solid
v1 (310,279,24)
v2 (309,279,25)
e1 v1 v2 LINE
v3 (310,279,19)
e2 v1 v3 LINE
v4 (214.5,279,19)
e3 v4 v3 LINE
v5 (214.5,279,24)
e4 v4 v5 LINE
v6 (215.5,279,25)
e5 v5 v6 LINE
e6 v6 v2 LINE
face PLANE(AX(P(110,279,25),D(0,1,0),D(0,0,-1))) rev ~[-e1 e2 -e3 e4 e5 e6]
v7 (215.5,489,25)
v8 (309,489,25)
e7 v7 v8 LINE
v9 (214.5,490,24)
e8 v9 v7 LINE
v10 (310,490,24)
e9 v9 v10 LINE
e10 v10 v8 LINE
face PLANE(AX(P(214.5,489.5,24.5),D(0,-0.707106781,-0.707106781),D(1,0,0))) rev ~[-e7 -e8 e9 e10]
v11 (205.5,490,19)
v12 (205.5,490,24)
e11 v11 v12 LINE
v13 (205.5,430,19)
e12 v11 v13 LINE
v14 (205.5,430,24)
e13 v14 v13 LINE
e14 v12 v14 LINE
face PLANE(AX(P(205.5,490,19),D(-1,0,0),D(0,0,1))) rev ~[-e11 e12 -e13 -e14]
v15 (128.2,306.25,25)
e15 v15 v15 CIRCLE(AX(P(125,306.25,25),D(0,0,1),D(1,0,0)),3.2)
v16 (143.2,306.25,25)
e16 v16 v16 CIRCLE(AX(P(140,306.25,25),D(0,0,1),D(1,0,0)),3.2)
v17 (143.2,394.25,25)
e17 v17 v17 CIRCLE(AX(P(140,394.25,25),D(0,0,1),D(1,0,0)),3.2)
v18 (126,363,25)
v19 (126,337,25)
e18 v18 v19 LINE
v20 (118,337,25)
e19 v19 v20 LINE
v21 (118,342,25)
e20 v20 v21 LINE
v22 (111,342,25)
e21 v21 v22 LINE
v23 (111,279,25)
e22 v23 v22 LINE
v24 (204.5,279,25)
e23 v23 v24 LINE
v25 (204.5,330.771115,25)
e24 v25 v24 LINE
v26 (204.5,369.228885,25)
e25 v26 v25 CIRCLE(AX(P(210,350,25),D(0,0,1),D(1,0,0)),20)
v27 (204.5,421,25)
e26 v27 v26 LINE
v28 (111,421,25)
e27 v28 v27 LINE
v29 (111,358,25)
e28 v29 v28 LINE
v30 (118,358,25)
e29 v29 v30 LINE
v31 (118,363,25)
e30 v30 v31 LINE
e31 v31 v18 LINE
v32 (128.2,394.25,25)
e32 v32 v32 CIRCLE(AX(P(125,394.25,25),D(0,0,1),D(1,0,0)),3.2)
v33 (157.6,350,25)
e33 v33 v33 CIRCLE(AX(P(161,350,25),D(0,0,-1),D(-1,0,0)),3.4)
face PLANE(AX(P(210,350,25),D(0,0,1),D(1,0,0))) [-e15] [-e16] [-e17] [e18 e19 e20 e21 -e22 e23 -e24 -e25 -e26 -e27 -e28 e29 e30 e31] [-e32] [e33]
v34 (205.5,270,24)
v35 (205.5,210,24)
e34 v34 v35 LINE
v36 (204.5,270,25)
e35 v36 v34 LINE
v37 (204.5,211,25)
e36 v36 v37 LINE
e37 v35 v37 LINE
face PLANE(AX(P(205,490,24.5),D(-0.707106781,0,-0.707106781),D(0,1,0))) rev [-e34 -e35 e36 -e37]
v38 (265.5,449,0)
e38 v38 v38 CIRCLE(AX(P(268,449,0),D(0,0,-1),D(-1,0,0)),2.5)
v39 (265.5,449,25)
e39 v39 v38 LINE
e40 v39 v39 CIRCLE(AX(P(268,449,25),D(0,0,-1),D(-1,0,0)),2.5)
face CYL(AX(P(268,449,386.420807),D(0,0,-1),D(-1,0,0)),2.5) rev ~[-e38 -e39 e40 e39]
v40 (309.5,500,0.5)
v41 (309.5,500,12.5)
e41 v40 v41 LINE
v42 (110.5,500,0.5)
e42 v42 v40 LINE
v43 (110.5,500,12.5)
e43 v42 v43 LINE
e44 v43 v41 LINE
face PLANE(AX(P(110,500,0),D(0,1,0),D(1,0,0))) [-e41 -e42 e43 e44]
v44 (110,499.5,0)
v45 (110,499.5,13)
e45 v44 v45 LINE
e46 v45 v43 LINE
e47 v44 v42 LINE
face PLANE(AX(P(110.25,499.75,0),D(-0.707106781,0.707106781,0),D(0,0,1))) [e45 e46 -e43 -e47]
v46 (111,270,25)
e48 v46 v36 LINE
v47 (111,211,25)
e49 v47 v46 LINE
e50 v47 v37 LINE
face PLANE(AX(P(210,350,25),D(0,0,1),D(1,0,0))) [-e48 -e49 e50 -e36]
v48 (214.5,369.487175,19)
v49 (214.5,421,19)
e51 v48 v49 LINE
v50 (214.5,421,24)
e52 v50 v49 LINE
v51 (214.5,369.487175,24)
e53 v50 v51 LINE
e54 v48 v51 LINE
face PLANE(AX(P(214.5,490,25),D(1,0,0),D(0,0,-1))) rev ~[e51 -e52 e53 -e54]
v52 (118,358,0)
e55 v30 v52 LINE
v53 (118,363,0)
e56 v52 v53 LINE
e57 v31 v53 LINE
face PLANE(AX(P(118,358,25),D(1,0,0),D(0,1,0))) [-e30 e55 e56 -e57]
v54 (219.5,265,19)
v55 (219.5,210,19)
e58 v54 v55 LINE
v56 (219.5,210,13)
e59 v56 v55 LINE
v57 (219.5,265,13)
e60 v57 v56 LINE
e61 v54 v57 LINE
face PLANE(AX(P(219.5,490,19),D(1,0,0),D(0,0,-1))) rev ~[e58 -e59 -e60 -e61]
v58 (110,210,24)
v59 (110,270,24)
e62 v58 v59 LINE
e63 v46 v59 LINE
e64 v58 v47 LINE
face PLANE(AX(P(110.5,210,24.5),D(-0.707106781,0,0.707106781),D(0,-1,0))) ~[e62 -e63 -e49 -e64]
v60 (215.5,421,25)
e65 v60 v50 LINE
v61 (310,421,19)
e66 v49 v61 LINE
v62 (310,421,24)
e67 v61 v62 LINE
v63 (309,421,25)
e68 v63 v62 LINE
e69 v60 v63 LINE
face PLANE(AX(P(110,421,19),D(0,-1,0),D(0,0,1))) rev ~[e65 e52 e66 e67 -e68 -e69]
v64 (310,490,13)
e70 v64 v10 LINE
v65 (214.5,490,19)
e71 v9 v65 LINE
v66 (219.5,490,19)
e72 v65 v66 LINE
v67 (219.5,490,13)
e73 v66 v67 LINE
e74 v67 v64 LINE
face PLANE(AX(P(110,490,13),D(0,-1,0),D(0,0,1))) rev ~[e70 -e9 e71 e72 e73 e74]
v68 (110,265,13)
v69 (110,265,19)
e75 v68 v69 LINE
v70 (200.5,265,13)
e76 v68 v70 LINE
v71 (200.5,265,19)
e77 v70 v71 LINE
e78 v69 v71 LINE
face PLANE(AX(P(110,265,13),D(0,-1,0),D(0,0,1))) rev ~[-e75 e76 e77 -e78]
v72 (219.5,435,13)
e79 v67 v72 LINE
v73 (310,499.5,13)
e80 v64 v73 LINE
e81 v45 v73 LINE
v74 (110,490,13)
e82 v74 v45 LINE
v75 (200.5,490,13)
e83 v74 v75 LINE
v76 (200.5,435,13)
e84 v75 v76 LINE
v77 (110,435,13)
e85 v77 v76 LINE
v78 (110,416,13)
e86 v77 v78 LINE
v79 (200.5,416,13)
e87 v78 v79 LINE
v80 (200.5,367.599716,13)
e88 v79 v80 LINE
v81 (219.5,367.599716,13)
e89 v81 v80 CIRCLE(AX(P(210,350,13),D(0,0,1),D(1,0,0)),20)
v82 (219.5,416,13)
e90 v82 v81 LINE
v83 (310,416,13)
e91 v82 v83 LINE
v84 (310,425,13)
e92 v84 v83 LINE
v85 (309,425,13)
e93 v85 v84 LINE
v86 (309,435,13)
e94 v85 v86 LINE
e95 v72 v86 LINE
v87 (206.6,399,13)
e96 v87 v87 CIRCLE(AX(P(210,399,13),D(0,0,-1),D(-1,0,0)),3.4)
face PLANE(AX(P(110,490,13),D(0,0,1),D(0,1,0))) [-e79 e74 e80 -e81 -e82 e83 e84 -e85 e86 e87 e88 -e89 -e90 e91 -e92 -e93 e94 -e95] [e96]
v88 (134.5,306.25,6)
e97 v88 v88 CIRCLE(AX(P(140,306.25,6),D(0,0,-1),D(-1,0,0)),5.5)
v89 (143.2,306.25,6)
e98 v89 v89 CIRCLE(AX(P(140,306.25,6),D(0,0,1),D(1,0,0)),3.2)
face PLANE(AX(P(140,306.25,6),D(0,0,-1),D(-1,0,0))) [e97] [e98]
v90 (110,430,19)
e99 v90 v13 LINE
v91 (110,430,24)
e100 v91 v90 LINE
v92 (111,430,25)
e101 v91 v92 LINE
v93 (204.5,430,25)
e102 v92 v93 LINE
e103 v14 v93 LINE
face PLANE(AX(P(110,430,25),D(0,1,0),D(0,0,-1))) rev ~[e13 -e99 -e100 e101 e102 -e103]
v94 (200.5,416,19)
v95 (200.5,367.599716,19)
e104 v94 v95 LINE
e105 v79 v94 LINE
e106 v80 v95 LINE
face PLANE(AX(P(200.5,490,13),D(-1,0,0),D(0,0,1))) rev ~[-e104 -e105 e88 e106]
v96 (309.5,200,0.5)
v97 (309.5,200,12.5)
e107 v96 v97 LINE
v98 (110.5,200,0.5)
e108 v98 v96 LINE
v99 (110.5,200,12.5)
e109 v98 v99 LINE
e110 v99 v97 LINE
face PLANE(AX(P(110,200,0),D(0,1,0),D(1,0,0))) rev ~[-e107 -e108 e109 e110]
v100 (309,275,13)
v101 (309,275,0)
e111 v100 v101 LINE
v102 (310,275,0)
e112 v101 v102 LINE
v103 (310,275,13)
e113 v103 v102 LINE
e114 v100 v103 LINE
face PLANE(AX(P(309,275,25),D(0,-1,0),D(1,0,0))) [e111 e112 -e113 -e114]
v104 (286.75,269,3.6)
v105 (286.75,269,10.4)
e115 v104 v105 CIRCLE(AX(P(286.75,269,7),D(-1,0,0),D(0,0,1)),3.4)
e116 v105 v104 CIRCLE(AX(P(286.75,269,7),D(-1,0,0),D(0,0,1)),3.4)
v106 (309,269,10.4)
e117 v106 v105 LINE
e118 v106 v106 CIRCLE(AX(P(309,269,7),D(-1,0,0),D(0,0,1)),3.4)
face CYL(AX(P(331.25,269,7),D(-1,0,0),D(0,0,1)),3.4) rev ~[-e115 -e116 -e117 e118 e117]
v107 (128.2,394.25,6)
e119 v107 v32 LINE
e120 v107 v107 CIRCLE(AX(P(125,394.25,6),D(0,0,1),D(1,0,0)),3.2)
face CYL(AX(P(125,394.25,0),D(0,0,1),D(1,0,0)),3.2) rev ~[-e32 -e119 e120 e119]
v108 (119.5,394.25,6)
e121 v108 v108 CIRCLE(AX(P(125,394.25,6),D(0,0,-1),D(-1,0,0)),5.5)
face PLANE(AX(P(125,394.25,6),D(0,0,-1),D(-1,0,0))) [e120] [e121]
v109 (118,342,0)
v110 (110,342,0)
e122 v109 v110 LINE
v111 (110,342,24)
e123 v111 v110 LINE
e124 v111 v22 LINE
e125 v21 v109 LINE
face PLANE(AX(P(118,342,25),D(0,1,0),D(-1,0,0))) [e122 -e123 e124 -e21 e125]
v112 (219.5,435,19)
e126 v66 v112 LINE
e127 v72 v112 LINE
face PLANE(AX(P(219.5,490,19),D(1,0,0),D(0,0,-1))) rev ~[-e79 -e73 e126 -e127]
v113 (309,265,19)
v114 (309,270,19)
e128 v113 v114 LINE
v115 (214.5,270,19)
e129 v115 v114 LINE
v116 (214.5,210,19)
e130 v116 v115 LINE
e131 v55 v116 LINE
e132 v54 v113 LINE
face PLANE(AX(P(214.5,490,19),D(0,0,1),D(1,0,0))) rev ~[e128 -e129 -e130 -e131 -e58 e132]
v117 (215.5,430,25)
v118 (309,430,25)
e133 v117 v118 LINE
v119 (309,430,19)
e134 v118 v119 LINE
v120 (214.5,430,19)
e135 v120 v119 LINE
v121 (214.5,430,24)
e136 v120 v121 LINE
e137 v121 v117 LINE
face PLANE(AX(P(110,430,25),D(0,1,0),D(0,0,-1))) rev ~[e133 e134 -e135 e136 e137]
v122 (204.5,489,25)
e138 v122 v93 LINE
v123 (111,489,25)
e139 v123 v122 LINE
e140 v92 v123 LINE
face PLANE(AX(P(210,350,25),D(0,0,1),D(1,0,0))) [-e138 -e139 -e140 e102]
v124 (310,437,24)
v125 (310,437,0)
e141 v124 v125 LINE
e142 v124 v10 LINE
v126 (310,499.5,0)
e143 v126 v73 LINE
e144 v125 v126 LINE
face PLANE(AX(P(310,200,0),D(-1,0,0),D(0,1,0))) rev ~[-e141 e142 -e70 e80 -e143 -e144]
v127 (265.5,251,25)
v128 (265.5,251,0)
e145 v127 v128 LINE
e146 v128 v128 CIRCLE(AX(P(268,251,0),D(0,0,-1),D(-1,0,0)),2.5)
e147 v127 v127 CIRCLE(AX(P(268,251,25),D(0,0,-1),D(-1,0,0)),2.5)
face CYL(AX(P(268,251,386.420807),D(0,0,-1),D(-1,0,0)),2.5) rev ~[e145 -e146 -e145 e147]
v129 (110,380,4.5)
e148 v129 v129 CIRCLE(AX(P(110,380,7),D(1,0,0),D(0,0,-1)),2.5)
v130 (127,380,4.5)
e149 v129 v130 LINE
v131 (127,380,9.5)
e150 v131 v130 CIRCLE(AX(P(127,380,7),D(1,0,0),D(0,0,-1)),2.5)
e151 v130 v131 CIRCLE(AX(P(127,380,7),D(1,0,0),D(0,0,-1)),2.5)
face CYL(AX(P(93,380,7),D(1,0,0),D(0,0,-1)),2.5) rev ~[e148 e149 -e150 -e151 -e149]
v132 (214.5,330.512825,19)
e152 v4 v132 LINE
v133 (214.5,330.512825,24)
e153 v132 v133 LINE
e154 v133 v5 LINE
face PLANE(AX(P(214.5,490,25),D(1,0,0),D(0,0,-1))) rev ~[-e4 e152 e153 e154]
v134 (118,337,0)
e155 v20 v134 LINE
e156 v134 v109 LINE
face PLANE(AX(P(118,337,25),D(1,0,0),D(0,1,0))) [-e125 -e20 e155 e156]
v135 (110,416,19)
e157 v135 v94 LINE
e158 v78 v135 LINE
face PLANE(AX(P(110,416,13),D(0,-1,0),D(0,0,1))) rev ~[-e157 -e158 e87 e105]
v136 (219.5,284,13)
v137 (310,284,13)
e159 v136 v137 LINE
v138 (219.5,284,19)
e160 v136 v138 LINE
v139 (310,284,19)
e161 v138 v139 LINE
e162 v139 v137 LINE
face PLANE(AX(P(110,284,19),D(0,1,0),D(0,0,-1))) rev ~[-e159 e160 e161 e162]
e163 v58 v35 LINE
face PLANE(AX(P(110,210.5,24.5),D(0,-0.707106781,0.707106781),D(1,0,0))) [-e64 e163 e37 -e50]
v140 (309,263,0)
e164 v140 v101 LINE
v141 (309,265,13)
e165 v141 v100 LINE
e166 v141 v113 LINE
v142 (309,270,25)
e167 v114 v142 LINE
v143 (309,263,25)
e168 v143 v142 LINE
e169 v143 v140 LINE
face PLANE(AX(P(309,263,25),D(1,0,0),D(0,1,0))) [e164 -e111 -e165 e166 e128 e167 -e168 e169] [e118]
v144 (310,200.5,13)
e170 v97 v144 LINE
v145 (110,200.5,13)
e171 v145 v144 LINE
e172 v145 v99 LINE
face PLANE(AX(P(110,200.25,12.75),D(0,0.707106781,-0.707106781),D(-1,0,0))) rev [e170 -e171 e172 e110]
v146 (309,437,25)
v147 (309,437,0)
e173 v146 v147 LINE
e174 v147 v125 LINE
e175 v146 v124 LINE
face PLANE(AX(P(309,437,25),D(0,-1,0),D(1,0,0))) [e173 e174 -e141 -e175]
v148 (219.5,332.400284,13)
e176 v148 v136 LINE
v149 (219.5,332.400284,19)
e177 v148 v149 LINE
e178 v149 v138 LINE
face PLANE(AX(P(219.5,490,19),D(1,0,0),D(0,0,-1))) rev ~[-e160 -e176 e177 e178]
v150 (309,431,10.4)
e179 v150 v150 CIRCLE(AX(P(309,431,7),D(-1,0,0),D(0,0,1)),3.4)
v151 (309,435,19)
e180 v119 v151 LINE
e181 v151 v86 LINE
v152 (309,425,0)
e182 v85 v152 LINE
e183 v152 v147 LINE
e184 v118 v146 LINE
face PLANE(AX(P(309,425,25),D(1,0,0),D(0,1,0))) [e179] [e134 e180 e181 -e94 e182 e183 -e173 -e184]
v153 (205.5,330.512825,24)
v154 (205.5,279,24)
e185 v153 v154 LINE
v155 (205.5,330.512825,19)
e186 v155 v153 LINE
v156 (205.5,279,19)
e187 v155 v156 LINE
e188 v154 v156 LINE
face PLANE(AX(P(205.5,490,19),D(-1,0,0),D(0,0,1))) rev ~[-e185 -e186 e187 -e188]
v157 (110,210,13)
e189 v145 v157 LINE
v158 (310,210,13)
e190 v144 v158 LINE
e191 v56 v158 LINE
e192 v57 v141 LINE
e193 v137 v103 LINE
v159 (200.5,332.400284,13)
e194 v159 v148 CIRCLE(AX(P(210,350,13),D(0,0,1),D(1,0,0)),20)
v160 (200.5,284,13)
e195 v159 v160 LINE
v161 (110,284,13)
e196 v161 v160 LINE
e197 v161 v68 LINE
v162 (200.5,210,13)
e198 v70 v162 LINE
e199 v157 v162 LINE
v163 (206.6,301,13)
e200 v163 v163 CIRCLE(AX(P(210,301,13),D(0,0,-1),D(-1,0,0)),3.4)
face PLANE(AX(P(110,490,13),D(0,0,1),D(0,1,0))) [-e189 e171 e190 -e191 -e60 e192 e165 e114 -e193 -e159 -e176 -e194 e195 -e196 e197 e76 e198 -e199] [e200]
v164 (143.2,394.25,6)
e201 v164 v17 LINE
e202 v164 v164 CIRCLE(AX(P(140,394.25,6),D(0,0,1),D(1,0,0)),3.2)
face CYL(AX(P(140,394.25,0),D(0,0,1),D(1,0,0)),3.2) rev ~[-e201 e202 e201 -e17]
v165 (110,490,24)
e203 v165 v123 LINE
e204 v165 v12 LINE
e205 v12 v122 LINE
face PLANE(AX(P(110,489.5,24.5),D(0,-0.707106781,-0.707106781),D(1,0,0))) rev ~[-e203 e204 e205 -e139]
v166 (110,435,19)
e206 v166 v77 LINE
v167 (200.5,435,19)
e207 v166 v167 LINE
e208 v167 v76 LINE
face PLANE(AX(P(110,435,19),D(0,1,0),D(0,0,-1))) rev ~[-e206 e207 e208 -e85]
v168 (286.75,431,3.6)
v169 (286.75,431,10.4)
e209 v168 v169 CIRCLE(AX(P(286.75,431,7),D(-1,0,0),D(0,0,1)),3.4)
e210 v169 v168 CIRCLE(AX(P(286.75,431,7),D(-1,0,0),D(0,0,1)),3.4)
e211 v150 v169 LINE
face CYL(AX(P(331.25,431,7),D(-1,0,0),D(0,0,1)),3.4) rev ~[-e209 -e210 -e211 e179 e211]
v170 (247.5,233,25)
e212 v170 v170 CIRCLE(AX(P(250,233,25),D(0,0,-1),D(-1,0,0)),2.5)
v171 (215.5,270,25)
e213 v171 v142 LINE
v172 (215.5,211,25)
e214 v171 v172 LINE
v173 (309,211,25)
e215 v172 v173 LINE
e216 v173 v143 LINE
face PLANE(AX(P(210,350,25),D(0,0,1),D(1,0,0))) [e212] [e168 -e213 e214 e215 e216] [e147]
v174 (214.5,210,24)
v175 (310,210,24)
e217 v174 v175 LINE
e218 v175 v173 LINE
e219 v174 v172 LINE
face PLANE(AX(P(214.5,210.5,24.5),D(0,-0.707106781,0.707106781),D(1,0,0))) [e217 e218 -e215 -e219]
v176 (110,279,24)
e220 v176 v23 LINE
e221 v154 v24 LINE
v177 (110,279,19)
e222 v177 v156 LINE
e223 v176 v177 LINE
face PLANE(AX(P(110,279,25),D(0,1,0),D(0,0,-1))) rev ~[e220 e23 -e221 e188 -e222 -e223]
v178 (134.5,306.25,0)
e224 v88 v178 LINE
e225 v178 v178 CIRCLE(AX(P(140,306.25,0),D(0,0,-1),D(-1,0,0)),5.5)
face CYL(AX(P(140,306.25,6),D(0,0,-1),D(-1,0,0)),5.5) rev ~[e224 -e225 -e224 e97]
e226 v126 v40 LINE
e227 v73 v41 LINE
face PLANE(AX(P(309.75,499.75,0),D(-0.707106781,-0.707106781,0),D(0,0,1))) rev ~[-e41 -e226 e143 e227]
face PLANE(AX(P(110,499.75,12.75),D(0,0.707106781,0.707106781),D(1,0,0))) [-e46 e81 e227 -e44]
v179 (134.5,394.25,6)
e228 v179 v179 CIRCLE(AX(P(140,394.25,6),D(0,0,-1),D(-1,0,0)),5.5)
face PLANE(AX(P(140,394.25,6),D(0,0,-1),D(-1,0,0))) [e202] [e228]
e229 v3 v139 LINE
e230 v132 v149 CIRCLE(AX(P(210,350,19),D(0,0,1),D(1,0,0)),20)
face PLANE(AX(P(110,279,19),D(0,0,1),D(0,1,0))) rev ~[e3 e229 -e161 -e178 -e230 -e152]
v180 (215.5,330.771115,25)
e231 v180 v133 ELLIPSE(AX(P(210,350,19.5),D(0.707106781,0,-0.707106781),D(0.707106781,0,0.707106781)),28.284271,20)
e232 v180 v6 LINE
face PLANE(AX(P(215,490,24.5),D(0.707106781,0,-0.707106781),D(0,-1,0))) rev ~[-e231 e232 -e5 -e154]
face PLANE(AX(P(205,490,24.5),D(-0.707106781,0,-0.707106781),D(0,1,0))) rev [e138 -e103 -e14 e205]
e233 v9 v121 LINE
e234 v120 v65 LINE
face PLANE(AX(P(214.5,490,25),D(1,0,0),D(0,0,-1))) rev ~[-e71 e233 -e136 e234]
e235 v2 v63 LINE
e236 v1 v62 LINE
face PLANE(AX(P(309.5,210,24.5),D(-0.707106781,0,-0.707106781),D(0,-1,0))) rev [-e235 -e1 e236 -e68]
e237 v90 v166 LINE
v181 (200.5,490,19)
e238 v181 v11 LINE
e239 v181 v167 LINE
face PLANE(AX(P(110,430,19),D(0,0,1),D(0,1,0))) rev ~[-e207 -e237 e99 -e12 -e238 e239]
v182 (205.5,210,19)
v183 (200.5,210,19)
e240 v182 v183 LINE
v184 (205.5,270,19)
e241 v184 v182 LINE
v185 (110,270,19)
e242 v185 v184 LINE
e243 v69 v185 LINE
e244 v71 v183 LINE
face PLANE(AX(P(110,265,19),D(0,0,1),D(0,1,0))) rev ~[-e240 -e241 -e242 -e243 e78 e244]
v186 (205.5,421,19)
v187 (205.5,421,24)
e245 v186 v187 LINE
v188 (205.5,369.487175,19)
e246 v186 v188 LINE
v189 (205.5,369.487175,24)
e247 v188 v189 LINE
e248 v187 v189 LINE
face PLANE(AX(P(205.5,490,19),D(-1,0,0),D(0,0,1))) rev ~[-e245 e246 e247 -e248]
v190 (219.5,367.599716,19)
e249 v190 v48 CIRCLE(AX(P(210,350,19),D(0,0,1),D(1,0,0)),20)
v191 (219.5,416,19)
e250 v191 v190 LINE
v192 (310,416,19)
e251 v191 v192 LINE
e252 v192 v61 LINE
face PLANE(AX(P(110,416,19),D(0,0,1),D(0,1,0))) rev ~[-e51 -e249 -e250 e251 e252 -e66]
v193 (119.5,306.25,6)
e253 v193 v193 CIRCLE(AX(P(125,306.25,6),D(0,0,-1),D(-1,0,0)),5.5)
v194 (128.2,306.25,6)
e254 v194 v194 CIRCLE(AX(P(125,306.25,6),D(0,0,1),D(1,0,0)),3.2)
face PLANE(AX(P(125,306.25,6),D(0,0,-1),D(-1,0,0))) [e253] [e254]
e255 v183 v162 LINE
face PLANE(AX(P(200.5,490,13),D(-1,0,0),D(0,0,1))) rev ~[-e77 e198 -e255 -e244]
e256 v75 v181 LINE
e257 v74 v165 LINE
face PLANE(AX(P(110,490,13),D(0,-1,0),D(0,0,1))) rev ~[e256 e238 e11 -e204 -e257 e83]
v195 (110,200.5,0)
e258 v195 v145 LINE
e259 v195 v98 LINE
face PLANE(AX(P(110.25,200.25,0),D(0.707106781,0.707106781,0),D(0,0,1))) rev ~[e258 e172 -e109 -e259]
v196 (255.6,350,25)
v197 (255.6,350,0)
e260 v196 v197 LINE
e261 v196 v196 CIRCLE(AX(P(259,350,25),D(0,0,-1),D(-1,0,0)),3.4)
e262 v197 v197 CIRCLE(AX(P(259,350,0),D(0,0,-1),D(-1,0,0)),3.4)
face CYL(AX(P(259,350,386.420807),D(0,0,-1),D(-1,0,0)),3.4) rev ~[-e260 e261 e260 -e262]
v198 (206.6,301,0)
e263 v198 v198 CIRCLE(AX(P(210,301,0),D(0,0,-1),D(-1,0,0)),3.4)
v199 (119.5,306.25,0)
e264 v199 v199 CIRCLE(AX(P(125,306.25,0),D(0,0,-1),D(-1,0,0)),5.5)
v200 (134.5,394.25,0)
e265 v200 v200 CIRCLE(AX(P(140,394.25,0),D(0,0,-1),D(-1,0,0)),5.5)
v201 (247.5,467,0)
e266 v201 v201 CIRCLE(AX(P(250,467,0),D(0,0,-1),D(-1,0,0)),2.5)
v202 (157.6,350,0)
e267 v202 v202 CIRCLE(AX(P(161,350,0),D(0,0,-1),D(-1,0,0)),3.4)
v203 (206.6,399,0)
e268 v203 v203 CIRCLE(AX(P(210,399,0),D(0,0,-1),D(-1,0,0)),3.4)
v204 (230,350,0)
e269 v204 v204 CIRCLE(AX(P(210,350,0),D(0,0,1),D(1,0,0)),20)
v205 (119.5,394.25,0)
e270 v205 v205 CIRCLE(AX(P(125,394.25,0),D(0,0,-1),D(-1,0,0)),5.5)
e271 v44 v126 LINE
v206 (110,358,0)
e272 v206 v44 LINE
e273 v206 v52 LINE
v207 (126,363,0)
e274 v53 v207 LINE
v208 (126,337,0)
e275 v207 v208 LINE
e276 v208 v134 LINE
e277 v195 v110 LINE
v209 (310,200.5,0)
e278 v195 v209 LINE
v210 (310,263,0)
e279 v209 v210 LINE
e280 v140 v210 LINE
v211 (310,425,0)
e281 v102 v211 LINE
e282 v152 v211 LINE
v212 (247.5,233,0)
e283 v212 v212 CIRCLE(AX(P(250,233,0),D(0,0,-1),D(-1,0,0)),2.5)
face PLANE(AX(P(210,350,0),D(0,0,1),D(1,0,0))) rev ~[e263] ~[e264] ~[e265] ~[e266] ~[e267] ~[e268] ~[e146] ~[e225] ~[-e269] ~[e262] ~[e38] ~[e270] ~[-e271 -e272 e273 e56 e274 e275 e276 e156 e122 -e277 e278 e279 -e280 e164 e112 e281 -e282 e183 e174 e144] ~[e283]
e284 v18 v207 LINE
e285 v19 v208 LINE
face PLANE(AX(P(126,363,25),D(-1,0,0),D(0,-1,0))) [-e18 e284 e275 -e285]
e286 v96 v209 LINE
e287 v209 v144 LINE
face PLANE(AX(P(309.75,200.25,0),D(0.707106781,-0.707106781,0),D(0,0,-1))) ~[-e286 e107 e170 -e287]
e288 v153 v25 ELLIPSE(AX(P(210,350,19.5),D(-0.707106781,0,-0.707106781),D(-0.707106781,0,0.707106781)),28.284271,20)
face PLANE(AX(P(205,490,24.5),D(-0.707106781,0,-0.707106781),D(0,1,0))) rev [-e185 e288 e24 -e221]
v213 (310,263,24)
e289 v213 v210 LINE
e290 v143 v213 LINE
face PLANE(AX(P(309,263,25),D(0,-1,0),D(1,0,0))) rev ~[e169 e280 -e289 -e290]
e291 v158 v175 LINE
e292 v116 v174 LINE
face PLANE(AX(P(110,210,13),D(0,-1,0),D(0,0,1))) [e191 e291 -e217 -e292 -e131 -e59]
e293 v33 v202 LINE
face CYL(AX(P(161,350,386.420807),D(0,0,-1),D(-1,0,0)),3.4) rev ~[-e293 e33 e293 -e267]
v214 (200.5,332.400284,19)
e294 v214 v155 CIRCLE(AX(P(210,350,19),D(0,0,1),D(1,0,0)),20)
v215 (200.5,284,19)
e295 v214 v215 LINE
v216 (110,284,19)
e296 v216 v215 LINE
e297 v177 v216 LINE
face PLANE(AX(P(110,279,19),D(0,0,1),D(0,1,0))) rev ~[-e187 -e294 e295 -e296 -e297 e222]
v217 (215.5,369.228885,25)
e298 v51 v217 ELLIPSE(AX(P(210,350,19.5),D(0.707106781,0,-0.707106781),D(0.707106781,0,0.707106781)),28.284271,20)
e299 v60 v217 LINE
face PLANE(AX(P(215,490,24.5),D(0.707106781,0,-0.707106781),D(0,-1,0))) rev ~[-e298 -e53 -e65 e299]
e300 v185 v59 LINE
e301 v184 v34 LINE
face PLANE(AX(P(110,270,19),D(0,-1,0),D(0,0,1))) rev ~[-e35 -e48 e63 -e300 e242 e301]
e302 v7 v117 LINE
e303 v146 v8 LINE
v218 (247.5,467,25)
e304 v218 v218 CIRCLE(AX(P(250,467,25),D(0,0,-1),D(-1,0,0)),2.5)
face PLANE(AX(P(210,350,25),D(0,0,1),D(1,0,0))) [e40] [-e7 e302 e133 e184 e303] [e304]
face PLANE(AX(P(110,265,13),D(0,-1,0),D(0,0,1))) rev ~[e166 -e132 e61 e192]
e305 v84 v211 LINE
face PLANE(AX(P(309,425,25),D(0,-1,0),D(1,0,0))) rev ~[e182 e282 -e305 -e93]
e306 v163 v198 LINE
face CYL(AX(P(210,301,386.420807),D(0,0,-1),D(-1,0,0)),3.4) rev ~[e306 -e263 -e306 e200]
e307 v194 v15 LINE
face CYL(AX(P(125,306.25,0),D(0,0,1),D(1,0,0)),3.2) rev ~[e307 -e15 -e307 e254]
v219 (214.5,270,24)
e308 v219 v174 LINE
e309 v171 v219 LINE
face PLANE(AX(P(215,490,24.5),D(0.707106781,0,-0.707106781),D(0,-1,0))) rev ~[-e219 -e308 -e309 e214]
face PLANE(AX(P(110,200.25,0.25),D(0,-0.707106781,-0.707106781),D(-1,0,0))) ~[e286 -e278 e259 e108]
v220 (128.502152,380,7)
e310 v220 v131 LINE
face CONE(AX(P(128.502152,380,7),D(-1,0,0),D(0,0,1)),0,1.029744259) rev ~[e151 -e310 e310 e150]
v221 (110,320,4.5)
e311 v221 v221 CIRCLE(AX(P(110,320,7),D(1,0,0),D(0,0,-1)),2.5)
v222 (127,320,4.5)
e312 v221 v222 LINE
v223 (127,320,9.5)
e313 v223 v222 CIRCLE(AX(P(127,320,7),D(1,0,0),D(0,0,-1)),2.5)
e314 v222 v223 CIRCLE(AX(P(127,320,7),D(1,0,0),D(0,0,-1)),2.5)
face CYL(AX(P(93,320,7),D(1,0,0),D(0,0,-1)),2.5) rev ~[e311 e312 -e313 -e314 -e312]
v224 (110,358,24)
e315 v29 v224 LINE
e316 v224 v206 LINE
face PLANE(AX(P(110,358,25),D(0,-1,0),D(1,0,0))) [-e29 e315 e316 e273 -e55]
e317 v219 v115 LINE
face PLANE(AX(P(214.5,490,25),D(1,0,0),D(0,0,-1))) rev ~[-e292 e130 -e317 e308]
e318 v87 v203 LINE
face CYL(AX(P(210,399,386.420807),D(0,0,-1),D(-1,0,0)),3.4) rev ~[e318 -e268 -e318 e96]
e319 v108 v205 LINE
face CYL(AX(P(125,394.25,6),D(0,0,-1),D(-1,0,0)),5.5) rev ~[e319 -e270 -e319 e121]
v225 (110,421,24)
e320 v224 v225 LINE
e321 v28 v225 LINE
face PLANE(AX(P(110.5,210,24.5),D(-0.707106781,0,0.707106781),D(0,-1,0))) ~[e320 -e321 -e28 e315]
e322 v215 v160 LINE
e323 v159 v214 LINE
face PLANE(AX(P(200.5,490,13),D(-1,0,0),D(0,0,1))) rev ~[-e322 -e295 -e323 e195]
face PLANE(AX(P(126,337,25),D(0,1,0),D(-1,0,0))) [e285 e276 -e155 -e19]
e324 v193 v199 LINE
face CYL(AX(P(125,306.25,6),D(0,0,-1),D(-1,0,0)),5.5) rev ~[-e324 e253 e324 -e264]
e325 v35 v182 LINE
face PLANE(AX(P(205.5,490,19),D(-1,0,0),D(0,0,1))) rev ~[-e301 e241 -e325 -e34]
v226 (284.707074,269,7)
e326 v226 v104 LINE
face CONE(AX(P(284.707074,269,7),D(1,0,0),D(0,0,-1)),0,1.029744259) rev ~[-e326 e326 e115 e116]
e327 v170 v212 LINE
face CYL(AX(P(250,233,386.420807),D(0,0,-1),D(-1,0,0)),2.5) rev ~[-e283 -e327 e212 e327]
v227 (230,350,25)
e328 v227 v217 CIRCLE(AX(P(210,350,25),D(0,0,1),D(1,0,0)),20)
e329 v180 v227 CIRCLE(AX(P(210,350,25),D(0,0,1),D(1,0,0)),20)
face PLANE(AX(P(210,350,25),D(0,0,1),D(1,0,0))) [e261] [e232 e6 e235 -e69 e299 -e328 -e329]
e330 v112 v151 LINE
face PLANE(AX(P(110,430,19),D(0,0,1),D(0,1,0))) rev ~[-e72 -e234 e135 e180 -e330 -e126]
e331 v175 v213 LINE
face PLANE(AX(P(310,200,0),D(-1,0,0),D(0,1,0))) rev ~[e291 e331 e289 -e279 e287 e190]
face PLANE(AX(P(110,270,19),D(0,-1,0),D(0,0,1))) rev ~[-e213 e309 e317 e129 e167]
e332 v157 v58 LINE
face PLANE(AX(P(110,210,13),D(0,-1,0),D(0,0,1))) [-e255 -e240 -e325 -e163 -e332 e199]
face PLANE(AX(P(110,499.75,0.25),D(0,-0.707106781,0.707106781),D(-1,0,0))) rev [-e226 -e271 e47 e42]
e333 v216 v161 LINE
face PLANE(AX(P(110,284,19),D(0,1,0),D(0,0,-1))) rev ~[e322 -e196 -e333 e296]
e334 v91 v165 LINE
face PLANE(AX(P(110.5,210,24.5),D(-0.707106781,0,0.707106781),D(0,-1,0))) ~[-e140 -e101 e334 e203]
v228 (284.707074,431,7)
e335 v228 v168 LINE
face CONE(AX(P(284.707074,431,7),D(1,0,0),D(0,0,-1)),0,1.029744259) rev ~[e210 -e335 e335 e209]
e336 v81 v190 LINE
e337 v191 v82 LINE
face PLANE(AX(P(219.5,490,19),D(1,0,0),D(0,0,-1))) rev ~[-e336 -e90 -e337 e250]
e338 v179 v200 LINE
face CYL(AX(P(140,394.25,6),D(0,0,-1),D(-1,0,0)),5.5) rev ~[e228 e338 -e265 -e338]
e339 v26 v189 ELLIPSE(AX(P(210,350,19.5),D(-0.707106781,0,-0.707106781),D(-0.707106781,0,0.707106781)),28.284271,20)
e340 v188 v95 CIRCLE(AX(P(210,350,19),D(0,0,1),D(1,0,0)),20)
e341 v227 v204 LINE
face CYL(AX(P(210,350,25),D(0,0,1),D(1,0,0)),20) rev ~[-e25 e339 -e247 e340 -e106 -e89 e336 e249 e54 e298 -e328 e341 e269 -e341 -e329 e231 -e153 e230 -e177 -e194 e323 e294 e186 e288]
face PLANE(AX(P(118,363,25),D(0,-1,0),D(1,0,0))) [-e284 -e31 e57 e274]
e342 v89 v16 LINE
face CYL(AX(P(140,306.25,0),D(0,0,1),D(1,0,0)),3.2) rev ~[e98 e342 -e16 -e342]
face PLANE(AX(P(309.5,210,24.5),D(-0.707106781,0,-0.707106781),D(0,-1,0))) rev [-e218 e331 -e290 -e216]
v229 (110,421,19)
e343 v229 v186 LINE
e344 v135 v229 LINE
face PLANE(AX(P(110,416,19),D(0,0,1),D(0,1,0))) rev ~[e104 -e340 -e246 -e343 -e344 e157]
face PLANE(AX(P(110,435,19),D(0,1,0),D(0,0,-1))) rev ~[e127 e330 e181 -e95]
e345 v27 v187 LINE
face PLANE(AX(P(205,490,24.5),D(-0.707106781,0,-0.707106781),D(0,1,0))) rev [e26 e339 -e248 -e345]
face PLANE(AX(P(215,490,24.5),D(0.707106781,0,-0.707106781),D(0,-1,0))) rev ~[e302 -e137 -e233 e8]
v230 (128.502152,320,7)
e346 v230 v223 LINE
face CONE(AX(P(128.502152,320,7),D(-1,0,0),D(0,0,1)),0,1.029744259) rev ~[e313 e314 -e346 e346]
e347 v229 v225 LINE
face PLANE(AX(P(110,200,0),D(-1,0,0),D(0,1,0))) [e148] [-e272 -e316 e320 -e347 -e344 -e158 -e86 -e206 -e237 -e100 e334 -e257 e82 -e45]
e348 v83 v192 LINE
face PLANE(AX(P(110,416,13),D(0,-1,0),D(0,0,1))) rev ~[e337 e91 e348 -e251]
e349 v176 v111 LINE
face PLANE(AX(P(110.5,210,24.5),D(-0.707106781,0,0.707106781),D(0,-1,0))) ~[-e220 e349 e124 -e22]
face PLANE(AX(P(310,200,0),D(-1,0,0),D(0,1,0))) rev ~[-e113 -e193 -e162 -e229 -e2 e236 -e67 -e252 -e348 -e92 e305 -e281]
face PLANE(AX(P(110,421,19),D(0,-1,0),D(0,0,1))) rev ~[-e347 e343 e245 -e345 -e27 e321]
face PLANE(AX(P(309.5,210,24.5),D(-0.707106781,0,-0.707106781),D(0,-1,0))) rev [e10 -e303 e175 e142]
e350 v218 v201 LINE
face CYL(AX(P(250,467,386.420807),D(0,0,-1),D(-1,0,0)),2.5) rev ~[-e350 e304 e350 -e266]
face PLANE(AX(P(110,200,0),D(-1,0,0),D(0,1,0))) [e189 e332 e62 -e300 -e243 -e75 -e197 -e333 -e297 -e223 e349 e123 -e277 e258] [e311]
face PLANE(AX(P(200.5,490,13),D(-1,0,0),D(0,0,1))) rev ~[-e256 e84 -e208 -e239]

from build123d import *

# Parameters (mm, degrees)
SKETCH_1_W                   = 200
SKETCH_1_H                   = 300
EXTRUDE_1_DEPTH              = 25
SKETCH_2_W                   = 12
SKETCH_2_H                   = 10
CUT_EXTRUDE_1_DEPTH          = 540.096466321
CUT_EXTRUDE_2_DEPTH          = 426.23522902
CHAMFER_2_SIZE               = 0.5
CHAMFER_3_SIZE               = 1
SKETCH_4_R                   = 20
CUT_EXTRUDE_3_DEPTH          = 589.833592792
CUT_EXTRUDE_4_DEPTH          = 540.096466321
M8X1_25_1_D                  = 6.8
HOLE_WIZARD_M6_1_D           = 6.4
HOLE_WIZARD_M6_1_CBORE_D     = 11
HOLE_WIZARD_M6_1_CBORE_DEPTH = 6
SKETCH_12_W                  = 1
SKETCH_12_H                  = 12
CUT_EXTRUDE_5_DEPTH          = 589.833592792
M8X1_25_2_D                  = 6.8
M8X1_25_2_DEPTH              = 22.25
M8X1_25_2_TIP                = 2.042926105
M6X1_0_1_D                   = 5
M6X1_0_1_DEPTH               = 17
M6X1_0_1_TIP                 = 1.502151548
M6X1_0_2_D                   = 5
CUT_EXTRUDE_6_DEPTH          = 589.833592792


with BuildPart() as part:
    # 草图1 → 凸台-拉伸1 (new body)
    with BuildSketch(Plane.XY):
        with Locations((210, 350)):
            Rectangle(SKETCH_1_W, SKETCH_1_H)
    extrude(amount=EXTRUDE_1_DEPTH)

    # 草图2 → 切除-拉伸1 (cut, through all)
    with BuildSketch(Plane.ZY.offset(-110)):
        with Locations((19, 495)):
            Rectangle(SKETCH_2_W, SKETCH_2_H)
        with Locations((19, 205)):
            Rectangle(SKETCH_2_W, SKETCH_2_H)
    extrude(amount=-CUT_EXTRUDE_1_DEPTH, mode=Mode.SUBTRACT)

    # 草图3 → 切除-拉伸2 (cut, through all)
    with BuildSketch(Plane(origin=(0, 490, 0), x_dir=(1, 0, 0), z_dir=(0, 1, 0))):
        Polygon((205.5, -25), (214.5, -25), (214.5, -19), (219.5, -19), (219.5, -13), (200.5, -13), (200.5, -19), (205.5, -19), align=None)
    extrude(amount=-CUT_EXTRUDE_2_DEPTH, mode=Mode.SUBTRACT)

    # 倒角2
    chamfer_2_edges = [part.edges().sort_by_distance(p)[0] for p in [
        (110, 500, 6.5),
        (310, 500, 6.5),
        (210, 500, 13),
        (310, 200, 6.5),
        (110, 200, 6.5),
        (210, 200, 13),
        (210, 500, 0),
        (210, 200, 0),
    ]]
    chamfer(chamfer_2_edges, length=CHAMFER_2_SIZE)

    # 倒角3
    chamfer_3_edges = [part.edges().sort_by_distance(p)[0] for p in [
        (110, 350, 25),
        (262.25, 490, 25),
        (310, 350, 25),
        (262.25, 210, 25),
        (157.75, 210, 25),
        (157.75, 490, 25),
        (205.5, 350, 25),
        (214.5, 350, 25),
    ]]
    chamfer(chamfer_3_edges, length=CHAMFER_3_SIZE)

    # 草图4 → 切除-拉伸3 (cut, through all)
    with BuildSketch(Plane.XY.offset(25)):
        with Locations((210, 350)):
            Circle(SKETCH_4_R)
    extrude(amount=-CUT_EXTRUDE_3_DEPTH, mode=Mode.SUBTRACT)

    # 草图5 → 切除-拉伸4 (cut, through all)
    with BuildSketch(Plane.ZY.offset(-110)):
        Polygon((25, 421), (25, 430), (19, 430), (19, 435), (13, 435), (13, 416), (19, 416), (19, 421), align=None)
        Polygon((13, 265), (19, 265), (19, 270), (25, 270), (25, 279), (19, 279), (19, 284), (13, 284), align=None)
    extrude(amount=-CUT_EXTRUDE_4_DEPTH, mode=Mode.SUBTRACT)

    # M8x1.25 螺纹孔1 (through all)
    with Locations(Plane.XY.offset(25)):
        with Locations((161, 350), (210, 399), (259, 350), (210, 301)):
            Hole(M8X1_25_1_D / 2)

    # M6 凹头盖螺钉的柱形沉头孔1 (through all)
    with Locations(Plane(origin=(0, 0, 0), x_dir=(-1, 0, 0), z_dir=(0, 0, -1))):
        with Locations((-125, 394.25), (-140, 394.25), (-140, 306.25), (-125, 306.25)):
            CounterBoreHole(HOLE_WIZARD_M6_1_D / 2, HOLE_WIZARD_M6_1_CBORE_D / 2, HOLE_WIZARD_M6_1_CBORE_DEPTH)

    # 草图12 → 切除-拉伸5 (cut, through all)
    with BuildSketch(Plane.XY.offset(25)):
        with Locations((309.5, 431)):
            Rectangle(SKETCH_12_W, SKETCH_12_H)
        with Locations((309.5, 269)):
            Rectangle(SKETCH_12_W, SKETCH_12_H)
    extrude(amount=-CUT_EXTRUDE_5_DEPTH, mode=Mode.SUBTRACT)

    # M8x1.25 螺纹孔2
    with Locations(Plane(origin=(309, 0, 0), x_dir=(0, 0, -1), z_dir=(1, 0, 0))):
        with Locations((-7, 431), (-7, 269)):
            Hole(M8X1_25_2_D / 2, depth=M8X1_25_2_DEPTH)
            with Locations((0, 0, -(M8X1_25_2_DEPTH + M8X1_25_2_TIP / 2))):  # 118° drill point
                Cone(0, M8X1_25_2_D / 2, M8X1_25_2_TIP, mode=Mode.SUBTRACT)

    # M6x1.0 螺纹孔1
    with Locations(Plane.ZY.offset(-110)):
        with Locations((7, 380), (7, 320)):
            Hole(M6X1_0_1_D / 2, depth=M6X1_0_1_DEPTH)
            with Locations((0, 0, -(M6X1_0_1_DEPTH + M6X1_0_1_TIP / 2))):  # 118° drill point
                Cone(0, M6X1_0_1_D / 2, M6X1_0_1_TIP, mode=Mode.SUBTRACT)

    # M6x1.0 螺纹孔2 (through all)
    with Locations(Plane.XY.offset(25)):
        with Locations((250, 467), (268, 449), (250, 233), (268, 251)):
            Hole(M6X1_0_2_D / 2)

    # 草图19 → 切除-拉伸6 (cut, through all)
    with BuildSketch(Plane.XY.offset(25)):
        Polygon((110, 358), (118, 358), (118, 363), (126, 363), (126, 337), (118, 337), (118, 342), (110, 342), align=None)
    extrude(amount=-CUT_EXTRUDE_6_DEPTH, mode=Mode.SUBTRACT)


solid = part.part
